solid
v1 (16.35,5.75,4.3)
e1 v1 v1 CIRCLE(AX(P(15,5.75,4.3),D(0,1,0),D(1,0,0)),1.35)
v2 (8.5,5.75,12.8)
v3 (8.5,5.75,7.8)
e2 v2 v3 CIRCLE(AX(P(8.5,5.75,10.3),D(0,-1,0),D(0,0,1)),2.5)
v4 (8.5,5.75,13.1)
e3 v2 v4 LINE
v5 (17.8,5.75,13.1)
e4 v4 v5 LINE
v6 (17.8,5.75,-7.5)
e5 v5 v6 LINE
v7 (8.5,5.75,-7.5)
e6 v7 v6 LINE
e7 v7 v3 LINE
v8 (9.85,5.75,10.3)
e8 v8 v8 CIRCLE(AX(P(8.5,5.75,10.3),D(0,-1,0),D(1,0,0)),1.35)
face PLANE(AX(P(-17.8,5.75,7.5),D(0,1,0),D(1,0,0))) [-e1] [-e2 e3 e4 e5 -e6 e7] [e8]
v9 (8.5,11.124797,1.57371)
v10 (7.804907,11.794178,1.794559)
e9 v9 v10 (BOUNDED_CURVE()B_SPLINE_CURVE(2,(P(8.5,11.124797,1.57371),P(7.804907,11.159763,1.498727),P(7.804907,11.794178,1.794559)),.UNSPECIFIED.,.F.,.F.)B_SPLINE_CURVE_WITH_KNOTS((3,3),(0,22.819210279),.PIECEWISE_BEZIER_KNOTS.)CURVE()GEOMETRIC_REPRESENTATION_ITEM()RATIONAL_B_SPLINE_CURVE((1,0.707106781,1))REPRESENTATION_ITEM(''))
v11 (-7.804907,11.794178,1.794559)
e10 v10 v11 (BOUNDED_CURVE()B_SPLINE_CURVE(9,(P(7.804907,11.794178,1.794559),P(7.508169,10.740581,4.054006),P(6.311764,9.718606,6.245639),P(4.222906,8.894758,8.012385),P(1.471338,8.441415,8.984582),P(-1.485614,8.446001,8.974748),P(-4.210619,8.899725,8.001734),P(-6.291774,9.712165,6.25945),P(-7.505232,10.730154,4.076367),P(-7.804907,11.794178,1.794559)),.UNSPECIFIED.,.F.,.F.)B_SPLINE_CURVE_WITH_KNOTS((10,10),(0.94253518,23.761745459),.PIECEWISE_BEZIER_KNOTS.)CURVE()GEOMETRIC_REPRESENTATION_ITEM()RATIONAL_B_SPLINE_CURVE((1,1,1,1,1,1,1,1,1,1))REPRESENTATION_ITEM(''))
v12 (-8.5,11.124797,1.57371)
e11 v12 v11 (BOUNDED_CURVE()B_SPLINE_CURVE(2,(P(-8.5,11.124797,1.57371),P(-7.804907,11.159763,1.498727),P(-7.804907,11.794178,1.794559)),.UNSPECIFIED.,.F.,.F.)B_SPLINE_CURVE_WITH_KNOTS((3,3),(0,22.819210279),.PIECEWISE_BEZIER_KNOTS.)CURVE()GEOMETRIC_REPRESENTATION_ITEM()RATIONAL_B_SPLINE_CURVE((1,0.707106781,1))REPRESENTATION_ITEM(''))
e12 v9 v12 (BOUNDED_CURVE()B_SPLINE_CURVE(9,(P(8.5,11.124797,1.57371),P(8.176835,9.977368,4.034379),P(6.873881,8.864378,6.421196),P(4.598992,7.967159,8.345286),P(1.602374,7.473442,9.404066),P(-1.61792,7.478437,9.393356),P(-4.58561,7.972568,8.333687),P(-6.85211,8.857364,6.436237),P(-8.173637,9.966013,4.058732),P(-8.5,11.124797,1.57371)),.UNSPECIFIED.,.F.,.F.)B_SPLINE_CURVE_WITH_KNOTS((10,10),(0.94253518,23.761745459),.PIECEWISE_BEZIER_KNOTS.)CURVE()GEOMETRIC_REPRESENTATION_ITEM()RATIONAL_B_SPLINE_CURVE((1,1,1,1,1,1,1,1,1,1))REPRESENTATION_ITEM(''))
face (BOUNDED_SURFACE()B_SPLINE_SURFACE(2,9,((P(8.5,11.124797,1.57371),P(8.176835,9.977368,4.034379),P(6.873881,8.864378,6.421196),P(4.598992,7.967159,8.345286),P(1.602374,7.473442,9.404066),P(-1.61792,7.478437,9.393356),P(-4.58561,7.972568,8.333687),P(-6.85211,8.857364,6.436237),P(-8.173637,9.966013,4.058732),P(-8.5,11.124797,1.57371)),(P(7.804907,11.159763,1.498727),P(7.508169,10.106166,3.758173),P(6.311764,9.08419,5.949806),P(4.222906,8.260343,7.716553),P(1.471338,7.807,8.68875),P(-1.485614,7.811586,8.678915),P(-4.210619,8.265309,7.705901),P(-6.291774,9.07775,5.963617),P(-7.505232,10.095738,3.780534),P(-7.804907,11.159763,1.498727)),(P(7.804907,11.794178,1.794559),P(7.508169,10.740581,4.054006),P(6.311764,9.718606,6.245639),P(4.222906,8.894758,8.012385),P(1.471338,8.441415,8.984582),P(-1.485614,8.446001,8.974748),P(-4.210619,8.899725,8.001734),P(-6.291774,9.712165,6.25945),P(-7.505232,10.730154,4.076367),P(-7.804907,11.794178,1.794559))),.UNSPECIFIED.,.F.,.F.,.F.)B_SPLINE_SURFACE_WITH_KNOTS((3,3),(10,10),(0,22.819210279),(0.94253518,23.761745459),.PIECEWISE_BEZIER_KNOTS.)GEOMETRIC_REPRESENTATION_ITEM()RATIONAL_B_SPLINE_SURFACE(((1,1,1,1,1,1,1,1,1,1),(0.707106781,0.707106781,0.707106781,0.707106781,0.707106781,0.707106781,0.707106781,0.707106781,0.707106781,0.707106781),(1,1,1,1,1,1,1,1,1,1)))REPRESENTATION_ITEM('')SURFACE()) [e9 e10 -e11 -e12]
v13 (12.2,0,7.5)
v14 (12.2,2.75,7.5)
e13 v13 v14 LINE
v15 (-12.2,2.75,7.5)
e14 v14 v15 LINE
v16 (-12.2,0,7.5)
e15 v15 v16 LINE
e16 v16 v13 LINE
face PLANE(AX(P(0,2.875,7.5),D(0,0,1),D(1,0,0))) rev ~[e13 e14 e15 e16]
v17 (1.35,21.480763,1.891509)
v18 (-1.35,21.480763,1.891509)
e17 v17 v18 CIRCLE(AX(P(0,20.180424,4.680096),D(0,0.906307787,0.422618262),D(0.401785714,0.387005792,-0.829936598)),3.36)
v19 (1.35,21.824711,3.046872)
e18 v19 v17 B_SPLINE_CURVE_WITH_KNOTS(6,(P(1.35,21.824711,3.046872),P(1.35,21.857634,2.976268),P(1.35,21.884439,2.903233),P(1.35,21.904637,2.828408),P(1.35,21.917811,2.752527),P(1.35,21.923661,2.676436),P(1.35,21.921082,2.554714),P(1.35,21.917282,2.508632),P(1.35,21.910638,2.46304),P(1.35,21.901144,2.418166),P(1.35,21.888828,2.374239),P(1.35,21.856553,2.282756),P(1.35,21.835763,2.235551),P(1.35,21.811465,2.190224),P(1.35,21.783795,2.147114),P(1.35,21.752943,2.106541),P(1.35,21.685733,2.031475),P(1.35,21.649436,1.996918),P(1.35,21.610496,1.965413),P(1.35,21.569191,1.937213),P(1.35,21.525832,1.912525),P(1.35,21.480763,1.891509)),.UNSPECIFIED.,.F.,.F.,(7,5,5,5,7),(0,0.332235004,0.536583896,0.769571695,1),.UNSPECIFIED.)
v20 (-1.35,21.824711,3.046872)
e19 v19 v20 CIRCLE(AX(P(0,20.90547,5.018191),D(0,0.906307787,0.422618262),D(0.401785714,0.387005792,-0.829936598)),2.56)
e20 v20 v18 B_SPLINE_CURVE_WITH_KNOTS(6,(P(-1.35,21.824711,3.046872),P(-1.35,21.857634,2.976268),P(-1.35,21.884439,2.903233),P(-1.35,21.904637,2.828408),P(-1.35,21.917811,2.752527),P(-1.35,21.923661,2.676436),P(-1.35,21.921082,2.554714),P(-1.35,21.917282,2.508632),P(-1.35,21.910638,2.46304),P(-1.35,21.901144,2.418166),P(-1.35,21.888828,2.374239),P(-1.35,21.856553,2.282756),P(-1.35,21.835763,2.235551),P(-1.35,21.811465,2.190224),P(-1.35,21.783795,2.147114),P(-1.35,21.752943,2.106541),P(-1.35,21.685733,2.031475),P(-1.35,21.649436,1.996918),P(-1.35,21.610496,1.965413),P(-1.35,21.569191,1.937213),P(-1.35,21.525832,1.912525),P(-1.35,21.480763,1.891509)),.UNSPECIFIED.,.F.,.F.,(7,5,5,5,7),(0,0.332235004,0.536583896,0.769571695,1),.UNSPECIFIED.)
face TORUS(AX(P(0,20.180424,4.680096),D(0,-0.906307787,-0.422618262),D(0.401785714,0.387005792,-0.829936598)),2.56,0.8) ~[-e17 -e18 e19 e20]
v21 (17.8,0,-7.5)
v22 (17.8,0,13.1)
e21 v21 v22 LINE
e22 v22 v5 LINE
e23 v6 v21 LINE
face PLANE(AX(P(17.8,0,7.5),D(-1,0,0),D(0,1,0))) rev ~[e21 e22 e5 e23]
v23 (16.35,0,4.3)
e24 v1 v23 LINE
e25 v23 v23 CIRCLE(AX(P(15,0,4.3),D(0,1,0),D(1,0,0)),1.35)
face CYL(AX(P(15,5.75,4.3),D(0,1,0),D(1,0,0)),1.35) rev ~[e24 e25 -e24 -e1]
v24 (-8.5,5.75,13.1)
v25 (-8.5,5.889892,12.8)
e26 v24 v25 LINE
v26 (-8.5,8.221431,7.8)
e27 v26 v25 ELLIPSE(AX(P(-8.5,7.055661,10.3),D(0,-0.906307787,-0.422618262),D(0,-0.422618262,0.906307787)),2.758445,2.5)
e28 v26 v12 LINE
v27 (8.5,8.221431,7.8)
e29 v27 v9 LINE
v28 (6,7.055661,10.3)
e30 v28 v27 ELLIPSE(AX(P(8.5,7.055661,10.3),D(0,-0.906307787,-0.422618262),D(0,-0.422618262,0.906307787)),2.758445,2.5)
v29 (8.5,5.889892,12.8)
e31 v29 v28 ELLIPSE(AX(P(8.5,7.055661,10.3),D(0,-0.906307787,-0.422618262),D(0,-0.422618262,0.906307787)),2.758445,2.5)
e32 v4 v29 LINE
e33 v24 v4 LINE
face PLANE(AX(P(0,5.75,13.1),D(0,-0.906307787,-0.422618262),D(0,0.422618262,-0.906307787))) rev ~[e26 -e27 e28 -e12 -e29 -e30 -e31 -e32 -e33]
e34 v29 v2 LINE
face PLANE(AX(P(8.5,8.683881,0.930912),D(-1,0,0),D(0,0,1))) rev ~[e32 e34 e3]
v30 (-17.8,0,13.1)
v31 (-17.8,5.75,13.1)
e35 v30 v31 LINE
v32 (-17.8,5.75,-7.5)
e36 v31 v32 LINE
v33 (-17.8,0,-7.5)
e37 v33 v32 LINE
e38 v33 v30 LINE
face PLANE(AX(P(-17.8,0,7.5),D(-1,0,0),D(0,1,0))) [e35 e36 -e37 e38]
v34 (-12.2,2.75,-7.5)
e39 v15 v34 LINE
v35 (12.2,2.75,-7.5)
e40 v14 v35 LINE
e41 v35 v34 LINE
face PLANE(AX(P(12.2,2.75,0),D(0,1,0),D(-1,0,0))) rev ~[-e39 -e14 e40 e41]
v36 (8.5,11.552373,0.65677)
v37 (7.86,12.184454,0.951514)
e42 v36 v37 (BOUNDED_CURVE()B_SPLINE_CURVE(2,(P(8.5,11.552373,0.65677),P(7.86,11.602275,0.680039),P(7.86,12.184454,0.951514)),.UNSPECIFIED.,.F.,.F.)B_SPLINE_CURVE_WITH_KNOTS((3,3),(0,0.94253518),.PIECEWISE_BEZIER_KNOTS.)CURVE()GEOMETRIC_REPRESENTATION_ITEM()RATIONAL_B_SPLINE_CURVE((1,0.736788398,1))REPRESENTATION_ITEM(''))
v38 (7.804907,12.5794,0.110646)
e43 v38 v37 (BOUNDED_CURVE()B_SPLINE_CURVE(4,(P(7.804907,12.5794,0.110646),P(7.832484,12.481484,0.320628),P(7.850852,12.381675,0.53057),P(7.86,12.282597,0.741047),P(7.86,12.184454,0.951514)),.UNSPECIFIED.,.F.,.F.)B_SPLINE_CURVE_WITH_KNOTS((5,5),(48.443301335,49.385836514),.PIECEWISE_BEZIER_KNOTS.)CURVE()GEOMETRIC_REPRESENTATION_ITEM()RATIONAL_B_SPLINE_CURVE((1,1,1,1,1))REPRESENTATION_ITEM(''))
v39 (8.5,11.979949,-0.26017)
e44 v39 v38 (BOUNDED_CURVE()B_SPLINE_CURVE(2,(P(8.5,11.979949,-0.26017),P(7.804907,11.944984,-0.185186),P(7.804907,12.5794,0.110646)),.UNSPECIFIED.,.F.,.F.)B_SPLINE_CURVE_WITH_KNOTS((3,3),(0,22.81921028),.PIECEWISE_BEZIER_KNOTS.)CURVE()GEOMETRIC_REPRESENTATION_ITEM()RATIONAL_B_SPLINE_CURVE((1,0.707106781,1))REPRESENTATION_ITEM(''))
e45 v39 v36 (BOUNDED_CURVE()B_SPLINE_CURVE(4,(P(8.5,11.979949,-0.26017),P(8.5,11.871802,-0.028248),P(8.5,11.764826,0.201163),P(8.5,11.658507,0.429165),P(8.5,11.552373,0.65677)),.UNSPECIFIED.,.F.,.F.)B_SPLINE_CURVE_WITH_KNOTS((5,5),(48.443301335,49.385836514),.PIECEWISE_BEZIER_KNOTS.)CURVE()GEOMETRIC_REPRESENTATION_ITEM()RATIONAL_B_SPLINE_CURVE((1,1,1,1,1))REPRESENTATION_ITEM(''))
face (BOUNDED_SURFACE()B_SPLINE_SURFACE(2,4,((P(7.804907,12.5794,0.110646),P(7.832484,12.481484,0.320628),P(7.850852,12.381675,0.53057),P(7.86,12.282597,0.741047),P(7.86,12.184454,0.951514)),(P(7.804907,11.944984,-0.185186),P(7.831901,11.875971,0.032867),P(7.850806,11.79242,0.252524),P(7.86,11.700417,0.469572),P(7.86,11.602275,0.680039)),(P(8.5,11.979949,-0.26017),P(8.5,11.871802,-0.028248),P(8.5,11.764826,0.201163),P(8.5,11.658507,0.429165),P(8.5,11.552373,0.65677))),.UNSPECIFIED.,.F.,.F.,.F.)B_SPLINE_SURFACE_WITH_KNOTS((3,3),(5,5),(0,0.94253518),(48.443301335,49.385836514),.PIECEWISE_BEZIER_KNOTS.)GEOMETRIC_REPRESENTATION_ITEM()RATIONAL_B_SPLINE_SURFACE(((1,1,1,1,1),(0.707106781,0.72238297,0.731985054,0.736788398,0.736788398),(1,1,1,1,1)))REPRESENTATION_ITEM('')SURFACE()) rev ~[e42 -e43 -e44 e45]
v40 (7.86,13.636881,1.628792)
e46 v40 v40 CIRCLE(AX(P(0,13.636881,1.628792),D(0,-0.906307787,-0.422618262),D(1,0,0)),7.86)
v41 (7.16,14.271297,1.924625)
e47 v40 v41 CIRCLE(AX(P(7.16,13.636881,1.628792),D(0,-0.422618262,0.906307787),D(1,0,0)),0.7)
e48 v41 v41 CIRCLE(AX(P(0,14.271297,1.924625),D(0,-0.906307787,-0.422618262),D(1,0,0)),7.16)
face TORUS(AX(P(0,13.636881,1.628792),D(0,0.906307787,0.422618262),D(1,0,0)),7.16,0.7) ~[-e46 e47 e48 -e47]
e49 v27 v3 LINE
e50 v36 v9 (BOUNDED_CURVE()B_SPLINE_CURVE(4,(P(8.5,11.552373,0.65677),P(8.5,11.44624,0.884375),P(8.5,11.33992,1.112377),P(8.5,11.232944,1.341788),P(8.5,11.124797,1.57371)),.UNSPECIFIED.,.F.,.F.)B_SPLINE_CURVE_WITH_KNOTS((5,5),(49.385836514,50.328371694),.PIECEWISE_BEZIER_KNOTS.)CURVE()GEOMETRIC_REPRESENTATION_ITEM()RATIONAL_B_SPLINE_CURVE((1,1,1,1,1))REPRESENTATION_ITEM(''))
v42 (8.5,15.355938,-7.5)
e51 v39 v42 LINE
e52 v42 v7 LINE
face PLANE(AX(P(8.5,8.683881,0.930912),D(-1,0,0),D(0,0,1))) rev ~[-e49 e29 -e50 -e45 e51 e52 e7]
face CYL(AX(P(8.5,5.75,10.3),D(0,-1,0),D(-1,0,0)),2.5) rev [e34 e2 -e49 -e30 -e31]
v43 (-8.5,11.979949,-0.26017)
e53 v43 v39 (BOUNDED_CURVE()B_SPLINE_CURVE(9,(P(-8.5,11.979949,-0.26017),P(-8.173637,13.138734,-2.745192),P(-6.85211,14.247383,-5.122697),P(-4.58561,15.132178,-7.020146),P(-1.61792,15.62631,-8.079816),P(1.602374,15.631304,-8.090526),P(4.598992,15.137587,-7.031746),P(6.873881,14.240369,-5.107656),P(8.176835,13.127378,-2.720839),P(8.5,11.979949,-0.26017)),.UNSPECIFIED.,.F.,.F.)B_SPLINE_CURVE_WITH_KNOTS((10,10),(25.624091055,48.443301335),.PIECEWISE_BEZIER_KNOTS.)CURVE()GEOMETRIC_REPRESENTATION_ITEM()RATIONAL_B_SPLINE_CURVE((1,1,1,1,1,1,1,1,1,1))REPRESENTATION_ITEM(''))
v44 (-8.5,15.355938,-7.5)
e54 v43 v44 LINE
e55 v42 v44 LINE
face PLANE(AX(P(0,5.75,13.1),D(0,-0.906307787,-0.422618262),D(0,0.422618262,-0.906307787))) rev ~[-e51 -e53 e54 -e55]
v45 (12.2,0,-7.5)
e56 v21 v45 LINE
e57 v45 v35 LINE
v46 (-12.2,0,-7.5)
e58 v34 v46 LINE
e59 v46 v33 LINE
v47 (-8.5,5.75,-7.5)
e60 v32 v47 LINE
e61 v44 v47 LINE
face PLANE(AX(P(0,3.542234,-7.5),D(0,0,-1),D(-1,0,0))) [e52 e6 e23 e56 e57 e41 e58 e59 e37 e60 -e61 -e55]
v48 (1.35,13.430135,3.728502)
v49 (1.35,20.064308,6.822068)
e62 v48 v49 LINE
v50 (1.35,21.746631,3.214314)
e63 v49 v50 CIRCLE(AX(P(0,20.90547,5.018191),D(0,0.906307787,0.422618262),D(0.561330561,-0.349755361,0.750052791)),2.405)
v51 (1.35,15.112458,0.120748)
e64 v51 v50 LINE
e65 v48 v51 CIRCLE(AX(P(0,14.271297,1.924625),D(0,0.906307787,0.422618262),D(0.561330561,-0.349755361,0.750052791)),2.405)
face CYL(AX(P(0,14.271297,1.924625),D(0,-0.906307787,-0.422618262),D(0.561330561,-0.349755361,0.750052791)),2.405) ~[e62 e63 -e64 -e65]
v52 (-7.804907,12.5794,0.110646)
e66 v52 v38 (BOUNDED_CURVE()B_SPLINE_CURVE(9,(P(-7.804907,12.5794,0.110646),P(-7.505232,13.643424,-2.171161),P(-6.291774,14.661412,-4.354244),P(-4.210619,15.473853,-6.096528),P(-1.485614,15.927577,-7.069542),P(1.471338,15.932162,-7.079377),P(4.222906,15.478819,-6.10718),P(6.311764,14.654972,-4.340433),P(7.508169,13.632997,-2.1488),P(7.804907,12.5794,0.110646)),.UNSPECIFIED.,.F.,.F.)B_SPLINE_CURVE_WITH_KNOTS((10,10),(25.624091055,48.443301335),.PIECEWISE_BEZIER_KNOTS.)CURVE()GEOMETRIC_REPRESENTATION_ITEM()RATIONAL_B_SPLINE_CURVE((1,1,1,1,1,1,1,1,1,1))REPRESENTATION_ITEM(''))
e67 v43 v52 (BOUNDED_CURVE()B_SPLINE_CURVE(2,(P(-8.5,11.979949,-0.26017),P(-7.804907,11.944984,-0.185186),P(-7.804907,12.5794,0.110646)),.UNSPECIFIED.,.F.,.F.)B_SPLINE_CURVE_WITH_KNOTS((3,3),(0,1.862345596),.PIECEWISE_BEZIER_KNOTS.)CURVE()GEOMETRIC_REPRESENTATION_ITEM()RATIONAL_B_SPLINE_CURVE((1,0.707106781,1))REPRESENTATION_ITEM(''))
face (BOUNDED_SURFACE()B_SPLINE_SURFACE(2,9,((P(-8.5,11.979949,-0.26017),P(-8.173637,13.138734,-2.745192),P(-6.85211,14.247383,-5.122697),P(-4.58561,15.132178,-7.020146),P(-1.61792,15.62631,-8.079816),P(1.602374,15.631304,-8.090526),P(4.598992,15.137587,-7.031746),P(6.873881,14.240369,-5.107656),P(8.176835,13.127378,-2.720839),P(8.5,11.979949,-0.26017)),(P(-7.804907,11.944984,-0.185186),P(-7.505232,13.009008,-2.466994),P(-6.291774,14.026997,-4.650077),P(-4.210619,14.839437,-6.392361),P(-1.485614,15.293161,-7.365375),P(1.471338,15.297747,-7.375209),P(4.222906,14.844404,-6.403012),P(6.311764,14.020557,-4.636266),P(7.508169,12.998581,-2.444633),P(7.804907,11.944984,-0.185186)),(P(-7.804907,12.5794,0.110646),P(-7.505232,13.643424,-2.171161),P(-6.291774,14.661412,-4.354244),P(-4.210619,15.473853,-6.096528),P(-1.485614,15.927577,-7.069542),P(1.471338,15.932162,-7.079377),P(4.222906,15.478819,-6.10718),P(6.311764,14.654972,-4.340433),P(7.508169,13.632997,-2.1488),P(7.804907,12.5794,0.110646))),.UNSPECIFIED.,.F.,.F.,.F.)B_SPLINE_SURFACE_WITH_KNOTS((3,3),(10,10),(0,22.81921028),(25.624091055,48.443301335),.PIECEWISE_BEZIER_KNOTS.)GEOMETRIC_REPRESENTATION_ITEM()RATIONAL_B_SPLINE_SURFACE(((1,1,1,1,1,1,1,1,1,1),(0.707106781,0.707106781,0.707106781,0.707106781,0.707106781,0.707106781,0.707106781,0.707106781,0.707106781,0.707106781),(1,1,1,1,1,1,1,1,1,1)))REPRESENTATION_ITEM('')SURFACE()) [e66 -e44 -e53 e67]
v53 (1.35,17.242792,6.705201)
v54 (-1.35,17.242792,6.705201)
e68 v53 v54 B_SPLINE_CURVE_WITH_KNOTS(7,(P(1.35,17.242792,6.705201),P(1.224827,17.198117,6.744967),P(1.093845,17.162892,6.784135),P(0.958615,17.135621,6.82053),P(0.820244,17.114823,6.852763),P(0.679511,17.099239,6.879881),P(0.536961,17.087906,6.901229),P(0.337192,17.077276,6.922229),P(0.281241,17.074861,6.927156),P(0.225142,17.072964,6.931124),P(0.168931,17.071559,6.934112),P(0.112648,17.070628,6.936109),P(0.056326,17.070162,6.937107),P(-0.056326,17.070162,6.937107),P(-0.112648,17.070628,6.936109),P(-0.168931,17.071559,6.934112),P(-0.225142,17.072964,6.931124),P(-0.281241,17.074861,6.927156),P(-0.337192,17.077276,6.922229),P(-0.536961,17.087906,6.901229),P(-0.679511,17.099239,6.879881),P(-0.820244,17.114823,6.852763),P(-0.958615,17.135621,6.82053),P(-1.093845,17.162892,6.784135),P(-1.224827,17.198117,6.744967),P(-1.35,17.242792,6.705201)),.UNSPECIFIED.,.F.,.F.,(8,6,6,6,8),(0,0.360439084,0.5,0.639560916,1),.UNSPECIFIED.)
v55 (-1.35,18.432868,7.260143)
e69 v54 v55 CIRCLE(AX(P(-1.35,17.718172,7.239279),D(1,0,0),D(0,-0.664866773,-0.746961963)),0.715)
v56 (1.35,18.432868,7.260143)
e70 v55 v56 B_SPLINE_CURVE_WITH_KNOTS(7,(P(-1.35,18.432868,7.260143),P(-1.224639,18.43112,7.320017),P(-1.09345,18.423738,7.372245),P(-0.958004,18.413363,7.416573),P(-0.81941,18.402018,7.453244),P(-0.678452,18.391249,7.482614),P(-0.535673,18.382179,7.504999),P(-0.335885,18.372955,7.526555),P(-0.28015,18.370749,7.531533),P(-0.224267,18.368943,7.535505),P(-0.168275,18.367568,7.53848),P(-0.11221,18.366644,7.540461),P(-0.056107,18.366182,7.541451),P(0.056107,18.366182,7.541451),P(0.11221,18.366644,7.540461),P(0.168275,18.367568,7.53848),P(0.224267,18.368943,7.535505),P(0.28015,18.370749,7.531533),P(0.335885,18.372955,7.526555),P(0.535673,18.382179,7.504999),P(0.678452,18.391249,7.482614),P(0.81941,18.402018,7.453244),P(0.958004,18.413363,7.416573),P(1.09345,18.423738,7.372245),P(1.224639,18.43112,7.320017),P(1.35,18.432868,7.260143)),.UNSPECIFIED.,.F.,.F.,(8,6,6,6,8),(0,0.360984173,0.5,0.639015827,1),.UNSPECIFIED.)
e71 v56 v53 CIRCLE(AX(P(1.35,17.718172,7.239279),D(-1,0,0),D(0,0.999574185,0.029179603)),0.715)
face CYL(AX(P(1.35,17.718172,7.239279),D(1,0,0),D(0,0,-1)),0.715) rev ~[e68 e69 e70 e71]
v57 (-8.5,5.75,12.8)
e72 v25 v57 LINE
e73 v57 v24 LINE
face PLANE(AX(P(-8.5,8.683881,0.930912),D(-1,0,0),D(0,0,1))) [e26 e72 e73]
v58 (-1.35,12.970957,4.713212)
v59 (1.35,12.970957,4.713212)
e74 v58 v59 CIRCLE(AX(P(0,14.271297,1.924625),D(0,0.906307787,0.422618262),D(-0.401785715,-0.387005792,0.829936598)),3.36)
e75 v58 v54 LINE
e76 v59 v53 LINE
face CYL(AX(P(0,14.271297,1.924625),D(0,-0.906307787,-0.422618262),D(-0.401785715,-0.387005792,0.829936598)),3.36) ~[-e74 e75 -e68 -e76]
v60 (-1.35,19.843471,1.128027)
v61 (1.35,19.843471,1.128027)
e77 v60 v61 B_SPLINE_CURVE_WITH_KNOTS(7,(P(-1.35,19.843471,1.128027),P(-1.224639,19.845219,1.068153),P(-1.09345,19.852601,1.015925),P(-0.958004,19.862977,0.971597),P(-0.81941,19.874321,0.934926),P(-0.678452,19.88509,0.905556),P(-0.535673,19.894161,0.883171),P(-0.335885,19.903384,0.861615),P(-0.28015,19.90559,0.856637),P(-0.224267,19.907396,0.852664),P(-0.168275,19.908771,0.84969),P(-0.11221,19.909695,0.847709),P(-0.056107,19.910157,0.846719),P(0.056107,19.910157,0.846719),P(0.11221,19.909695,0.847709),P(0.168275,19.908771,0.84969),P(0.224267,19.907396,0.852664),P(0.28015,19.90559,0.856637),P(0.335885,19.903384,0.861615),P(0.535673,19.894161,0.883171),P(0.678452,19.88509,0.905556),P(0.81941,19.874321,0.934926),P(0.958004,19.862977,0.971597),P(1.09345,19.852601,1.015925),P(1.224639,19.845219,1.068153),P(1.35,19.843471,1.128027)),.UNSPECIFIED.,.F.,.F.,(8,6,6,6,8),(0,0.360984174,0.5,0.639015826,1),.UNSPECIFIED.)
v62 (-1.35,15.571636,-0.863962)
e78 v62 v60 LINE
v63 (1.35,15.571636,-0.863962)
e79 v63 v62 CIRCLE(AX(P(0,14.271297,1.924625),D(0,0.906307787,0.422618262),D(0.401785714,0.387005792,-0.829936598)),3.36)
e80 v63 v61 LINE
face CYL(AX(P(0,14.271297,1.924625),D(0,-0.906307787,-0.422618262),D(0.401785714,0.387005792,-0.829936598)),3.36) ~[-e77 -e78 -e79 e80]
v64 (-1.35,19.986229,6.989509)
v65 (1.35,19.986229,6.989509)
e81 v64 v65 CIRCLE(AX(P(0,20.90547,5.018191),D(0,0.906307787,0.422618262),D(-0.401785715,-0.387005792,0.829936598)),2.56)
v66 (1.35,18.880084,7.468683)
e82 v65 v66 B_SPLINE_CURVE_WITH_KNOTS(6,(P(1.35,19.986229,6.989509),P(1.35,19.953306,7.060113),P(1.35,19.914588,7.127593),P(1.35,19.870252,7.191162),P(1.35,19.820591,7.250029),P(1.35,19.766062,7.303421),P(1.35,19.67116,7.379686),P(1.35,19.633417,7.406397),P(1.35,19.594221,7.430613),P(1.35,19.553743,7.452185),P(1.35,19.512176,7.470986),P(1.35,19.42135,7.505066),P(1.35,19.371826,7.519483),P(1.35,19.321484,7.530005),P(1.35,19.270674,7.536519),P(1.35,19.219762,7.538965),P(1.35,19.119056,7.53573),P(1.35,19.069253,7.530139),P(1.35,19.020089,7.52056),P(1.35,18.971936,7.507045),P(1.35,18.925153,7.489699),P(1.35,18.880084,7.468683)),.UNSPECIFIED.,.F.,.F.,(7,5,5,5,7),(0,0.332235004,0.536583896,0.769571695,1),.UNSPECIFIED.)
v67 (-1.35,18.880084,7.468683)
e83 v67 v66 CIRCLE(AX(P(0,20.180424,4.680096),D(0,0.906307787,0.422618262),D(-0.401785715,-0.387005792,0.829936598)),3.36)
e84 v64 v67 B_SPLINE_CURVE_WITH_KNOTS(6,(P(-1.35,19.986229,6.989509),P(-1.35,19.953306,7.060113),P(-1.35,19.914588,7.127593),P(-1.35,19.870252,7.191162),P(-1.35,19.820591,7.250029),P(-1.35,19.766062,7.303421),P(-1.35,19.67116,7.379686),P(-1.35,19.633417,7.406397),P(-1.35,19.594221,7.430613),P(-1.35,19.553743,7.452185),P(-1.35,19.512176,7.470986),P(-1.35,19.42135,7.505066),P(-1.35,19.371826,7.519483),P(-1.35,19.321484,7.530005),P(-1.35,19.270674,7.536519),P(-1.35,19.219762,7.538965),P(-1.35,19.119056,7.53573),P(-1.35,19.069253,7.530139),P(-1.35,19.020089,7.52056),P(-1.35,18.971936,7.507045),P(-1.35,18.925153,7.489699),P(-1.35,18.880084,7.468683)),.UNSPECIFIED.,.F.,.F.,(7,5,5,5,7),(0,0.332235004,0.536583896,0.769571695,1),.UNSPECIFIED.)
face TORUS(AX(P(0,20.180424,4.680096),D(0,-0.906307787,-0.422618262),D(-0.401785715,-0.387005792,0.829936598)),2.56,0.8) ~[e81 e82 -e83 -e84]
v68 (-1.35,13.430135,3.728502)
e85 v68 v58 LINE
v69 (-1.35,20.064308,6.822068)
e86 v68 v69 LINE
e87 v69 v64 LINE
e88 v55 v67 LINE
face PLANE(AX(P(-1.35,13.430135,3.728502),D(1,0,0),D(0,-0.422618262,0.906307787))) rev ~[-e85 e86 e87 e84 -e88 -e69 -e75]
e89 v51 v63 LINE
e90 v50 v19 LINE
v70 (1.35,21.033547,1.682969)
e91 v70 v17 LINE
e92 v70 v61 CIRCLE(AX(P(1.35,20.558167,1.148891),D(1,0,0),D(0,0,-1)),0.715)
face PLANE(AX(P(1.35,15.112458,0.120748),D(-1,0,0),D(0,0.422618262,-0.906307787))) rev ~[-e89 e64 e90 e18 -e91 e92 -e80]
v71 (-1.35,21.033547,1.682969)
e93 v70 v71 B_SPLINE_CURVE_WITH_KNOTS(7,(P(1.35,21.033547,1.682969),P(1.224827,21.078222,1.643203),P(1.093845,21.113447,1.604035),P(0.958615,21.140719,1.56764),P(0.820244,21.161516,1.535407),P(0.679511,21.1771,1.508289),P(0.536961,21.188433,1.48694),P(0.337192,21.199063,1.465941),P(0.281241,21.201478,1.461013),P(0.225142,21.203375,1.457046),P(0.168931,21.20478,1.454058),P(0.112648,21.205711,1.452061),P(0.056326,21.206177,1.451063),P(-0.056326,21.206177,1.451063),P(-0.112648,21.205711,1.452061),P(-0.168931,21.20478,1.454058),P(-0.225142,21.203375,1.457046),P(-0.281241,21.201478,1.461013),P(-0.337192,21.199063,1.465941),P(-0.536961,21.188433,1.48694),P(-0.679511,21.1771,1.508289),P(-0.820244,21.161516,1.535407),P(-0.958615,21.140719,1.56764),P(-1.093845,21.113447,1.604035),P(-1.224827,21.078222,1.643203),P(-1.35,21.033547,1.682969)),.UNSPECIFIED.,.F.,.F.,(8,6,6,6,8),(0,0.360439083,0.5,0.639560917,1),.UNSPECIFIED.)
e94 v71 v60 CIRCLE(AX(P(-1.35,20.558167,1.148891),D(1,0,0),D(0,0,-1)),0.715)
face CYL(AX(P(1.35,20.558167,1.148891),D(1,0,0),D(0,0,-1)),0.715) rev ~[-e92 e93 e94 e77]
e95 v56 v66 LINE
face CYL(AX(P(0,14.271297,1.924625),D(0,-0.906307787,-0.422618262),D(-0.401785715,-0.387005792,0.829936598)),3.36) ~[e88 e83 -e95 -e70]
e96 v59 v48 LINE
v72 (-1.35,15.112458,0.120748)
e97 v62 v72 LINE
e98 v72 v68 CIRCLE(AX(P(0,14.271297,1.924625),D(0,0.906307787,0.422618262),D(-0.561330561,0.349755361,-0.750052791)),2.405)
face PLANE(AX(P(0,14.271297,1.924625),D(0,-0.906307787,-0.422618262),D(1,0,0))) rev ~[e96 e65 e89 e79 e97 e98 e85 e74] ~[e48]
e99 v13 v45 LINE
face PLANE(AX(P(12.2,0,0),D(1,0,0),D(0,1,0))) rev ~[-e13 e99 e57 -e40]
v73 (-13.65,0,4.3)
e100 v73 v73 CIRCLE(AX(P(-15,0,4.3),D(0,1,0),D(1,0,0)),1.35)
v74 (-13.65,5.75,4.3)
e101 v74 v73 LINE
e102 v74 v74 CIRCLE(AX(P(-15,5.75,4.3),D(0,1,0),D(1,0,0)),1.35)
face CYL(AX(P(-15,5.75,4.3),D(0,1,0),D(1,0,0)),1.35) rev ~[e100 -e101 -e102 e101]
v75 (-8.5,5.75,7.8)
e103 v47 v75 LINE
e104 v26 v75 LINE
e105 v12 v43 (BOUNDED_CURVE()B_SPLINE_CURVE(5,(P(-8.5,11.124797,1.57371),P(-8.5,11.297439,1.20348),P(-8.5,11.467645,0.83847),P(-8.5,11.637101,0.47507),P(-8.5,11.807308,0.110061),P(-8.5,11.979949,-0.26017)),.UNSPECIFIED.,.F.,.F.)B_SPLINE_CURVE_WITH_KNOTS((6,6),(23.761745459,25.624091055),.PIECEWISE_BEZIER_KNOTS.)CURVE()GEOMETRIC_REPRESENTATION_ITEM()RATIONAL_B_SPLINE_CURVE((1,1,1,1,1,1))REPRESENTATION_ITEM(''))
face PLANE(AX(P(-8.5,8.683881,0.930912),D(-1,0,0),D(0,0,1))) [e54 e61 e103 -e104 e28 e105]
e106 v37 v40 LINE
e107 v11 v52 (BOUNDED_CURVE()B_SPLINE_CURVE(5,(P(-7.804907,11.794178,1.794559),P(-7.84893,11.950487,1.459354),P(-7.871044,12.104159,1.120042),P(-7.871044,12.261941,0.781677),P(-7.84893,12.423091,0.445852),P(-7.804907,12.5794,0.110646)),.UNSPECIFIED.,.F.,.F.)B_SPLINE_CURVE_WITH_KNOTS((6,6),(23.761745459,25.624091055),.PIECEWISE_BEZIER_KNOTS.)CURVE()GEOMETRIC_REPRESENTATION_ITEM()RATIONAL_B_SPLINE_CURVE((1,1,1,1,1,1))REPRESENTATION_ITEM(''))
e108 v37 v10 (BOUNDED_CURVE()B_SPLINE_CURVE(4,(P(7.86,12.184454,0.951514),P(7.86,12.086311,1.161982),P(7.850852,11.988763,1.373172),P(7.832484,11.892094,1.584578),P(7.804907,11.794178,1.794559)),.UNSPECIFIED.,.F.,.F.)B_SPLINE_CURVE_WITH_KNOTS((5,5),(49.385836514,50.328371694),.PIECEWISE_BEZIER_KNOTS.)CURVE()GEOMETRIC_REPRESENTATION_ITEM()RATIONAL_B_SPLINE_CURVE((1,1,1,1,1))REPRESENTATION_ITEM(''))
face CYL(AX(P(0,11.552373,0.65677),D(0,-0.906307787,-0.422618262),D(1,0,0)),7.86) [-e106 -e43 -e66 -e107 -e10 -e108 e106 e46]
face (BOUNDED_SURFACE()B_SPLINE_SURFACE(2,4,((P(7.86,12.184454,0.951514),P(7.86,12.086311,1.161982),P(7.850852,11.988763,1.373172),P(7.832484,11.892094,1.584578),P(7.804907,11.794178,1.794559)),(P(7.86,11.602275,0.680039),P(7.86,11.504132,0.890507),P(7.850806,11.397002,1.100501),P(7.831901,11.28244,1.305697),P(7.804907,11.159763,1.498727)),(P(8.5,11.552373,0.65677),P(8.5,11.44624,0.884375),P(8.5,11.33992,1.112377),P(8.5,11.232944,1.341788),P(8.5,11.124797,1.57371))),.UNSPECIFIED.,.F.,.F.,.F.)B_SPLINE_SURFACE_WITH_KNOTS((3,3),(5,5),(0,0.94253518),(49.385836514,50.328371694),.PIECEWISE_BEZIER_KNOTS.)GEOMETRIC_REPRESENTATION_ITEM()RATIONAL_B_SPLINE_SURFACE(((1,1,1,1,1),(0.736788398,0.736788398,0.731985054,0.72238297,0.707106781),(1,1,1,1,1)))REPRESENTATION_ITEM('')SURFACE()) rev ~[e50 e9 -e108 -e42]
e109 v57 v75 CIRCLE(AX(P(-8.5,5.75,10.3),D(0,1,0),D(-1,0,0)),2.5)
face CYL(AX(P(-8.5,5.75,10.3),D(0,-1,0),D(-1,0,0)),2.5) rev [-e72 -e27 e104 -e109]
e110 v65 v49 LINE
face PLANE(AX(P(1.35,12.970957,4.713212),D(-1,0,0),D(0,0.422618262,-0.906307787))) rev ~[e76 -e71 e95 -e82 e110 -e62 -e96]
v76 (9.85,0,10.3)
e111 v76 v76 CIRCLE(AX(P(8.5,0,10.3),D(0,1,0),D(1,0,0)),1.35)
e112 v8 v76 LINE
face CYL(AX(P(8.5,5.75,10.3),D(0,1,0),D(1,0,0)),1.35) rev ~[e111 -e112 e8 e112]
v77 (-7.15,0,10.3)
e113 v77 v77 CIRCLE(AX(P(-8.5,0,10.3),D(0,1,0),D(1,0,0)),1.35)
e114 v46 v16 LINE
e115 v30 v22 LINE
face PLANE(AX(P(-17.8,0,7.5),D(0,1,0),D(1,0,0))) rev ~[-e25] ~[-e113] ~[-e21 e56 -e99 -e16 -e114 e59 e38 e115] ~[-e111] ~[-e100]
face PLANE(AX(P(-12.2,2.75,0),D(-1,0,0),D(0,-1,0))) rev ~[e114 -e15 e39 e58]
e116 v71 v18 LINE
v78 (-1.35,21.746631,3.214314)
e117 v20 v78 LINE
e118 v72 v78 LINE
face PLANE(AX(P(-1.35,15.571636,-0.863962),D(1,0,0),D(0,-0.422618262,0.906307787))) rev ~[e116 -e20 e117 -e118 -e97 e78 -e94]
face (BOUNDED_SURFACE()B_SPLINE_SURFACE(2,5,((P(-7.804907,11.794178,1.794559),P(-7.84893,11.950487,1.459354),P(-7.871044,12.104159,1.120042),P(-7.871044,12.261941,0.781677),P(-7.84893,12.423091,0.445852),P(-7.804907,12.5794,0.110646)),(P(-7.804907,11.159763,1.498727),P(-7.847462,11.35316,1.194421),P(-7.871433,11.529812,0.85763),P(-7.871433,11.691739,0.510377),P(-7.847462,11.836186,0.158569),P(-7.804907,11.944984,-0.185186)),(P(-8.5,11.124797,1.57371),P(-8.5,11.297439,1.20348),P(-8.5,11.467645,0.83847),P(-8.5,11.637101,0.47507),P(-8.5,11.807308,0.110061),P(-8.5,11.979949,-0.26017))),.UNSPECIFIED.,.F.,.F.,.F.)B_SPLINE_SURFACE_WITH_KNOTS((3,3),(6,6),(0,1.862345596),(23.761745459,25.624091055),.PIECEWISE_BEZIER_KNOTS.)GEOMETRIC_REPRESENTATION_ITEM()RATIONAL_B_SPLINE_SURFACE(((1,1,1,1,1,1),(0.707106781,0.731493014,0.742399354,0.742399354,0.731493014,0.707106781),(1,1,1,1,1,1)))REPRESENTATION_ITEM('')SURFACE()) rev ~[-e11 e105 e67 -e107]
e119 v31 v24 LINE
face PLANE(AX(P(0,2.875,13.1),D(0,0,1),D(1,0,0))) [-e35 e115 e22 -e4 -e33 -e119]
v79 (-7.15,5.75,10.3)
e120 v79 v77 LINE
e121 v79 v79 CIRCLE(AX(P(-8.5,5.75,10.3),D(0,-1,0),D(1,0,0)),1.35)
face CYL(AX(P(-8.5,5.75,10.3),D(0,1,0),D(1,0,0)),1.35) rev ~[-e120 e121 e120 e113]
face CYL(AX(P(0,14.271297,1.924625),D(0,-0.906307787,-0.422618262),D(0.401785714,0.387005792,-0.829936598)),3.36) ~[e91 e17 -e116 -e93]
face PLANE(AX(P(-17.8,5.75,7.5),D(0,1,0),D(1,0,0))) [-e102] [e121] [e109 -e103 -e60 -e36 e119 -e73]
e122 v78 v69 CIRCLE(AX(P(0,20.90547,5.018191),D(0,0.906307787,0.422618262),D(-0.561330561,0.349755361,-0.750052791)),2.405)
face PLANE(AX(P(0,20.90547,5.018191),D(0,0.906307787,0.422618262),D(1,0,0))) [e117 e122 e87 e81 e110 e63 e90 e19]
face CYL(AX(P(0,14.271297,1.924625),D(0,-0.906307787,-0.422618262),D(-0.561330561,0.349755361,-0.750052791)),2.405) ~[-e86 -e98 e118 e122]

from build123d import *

# Parameters (mm, degrees)
BOSS_EXTRUDE1_DEPTH = 7.5
SKETCH8_W           = 35.6
SKETCH8_H           = 5.75
BOSS_EXTRUDE4_DEPTH = 5.6
BOSS_EXTRUDE5_DEPTH = 8.5
SKETCH3_R           = 7.86
BOSS_EXTRUDE2_DEPTH = 3
FILLET4_R           = 0.7
BOSS_EXTRUDE3_DEPTH = 7.32
SKETCH6_R           = 0.715
CUT_EXTRUDE2_DEPTH  = 20.15
FILLET5_R           = 0.8
SKETCH9_R           = 1.35
CUT_EXTRUDE3_DEPTH  = 6.75
SKETCH12_R          = 2.5
CUT_EXTRUDE4_DEPTH  = 17.312326385


with BuildPart() as part:
    # Sketch1 → Boss-Extrude1 (new body, symmetric)
    with BuildSketch(Plane.XY):
        Polygon((-17.8, 5.75), (17.8, 5.75), (17.8, 0), (12.2, 0), (12.2, 2.75), (-12.2, 2.75), (-12.2, 0), (-17.8, 0), align=None)
    extrude(amount=BOSS_EXTRUDE1_DEPTH, both=True)

    # Sketch8 → Boss-Extrude4 (add)
    with BuildSketch(Plane.XY.offset(7.5)):
        with Locations((0, 2.875)):
            Rectangle(SKETCH8_W, SKETCH8_H)
    extrude(amount=BOSS_EXTRUDE4_DEPTH)

    # Sketch11 → Boss-Extrude5 (add, symmetric)
    with BuildSketch(Plane(origin=(0, 0, 0), x_dir=(0, 0, -1), z_dir=(1, 0, 0))):
        Polygon((-13.1, 5.75), (7.5, 15.355937758), (7.5, 5.75), align=None)
    extrude(amount=BOSS_EXTRUDE5_DEPTH, both=True)

    # Sketch3 → Boss-Extrude2 (add)
    with BuildSketch(Plane(origin=(0, -0.825909529, 27.202083493), x_dir=(1, 0, 0), z_dir=(0, -0.906307787, -0.422618262))):
        with Locations((0, -29.289512668)):
            Circle(SKETCH3_R)
    extrude(amount=-BOSS_EXTRUDE2_DEPTH)

    # Fillet4
    fillet4_edges = [part.edges().sort_by_distance(p)[0] for p in [
        (-7.86, 14.271296763, 1.924624869),
        (-7.86, 11.552373402, 0.656770083),
    ]]
    fillet(fillet4_edges, radius=FILLET4_R)

    # Sketch5 → Boss-Extrude3 (add)
    with BuildSketch(Plane(origin=(0, 12.459528841, 5.809973716), x_dir=(1, 0, 0), z_dir=(0, 0.906307787, 0.422618262))):
        with BuildLine():
            Line((1.35, 6.277366133), (1.35, 7.363873413))
            ThreePointArc((1.35, 7.363873413), (0, 7.647008125), (-1.35, 7.363873413))
            Line((-1.35, 7.363873413), (-1.35, 6.277366133))
            ThreePointArc((-1.35, 6.277366133), (-2.405, 4.287008125), (-1.35, 2.296650117))
            Line((-1.35, 2.296650117), (-1.35, 1.210142838))
            ThreePointArc((-1.35, 1.210142838), (0, 0.927008125), (1.35, 1.210142838))
            Line((1.35, 1.210142838), (1.35, 2.296650117))
            ThreePointArc((1.35, 2.296650117), (2.405, 4.287008125), (1.35, 6.277366133))
        make_face()
    extrude(amount=BOSS_EXTRUDE3_DEPTH)

    # Sketch6 → Cut-Extrude2 (cut, through all)
    with BuildSketch(Plane(origin=(1.35, 0, 0), x_dir=(0, 0, -1), z_dir=(1, 0, 0))):
        with Locations((-7.239279099, 17.71817222)):
            Circle(SKETCH6_R)
        with Locations((-1.14889077, 20.558166939)):
            Circle(SKETCH6_R)
    extrude(amount=-CUT_EXTRUDE2_DEPTH, mode=Mode.SUBTRACT)

    # Fillet5
    fillet5_edges = [part.edges().sort_by_distance(p)[0] for p in [
        (0, 19.485472405, 8.063384709),
        (0, 22.325467124, 1.97299638),
    ]]
    fillet(fillet5_edges, radius=FILLET5_R)

    # Sketch9 → Cut-Extrude3 (cut, through all)
    with BuildSketch(Plane(origin=(0, 5.75, 0), x_dir=(1, 0, 0), z_dir=(0, 1, 0))):
        with Locations((-8.5, -10.3)):
            Circle(SKETCH9_R)
        with Locations((-15, -4.3)):
            Circle(SKETCH9_R)
        with Locations((8.5, -10.3)):
            Circle(SKETCH9_R)
        with Locations((15, -4.3)):
            Circle(SKETCH9_R)
    extrude(amount=-CUT_EXTRUDE3_DEPTH, mode=Mode.SUBTRACT)

    # Sketch12 → Cut-Extrude4 (cut, through all)
    with BuildSketch(Plane(origin=(0, 5.75, 0), x_dir=(-1, 0, 0), z_dir=(0, 1, 0))):
        with Locations((8.5, 10.3)):
            Circle(SKETCH12_R)
        with Locations((-8.5, 10.3)):
            Circle(SKETCH12_R)
    extrude(amount=CUT_EXTRUDE4_DEPTH, mode=Mode.SUBTRACT)


solid = part.part
